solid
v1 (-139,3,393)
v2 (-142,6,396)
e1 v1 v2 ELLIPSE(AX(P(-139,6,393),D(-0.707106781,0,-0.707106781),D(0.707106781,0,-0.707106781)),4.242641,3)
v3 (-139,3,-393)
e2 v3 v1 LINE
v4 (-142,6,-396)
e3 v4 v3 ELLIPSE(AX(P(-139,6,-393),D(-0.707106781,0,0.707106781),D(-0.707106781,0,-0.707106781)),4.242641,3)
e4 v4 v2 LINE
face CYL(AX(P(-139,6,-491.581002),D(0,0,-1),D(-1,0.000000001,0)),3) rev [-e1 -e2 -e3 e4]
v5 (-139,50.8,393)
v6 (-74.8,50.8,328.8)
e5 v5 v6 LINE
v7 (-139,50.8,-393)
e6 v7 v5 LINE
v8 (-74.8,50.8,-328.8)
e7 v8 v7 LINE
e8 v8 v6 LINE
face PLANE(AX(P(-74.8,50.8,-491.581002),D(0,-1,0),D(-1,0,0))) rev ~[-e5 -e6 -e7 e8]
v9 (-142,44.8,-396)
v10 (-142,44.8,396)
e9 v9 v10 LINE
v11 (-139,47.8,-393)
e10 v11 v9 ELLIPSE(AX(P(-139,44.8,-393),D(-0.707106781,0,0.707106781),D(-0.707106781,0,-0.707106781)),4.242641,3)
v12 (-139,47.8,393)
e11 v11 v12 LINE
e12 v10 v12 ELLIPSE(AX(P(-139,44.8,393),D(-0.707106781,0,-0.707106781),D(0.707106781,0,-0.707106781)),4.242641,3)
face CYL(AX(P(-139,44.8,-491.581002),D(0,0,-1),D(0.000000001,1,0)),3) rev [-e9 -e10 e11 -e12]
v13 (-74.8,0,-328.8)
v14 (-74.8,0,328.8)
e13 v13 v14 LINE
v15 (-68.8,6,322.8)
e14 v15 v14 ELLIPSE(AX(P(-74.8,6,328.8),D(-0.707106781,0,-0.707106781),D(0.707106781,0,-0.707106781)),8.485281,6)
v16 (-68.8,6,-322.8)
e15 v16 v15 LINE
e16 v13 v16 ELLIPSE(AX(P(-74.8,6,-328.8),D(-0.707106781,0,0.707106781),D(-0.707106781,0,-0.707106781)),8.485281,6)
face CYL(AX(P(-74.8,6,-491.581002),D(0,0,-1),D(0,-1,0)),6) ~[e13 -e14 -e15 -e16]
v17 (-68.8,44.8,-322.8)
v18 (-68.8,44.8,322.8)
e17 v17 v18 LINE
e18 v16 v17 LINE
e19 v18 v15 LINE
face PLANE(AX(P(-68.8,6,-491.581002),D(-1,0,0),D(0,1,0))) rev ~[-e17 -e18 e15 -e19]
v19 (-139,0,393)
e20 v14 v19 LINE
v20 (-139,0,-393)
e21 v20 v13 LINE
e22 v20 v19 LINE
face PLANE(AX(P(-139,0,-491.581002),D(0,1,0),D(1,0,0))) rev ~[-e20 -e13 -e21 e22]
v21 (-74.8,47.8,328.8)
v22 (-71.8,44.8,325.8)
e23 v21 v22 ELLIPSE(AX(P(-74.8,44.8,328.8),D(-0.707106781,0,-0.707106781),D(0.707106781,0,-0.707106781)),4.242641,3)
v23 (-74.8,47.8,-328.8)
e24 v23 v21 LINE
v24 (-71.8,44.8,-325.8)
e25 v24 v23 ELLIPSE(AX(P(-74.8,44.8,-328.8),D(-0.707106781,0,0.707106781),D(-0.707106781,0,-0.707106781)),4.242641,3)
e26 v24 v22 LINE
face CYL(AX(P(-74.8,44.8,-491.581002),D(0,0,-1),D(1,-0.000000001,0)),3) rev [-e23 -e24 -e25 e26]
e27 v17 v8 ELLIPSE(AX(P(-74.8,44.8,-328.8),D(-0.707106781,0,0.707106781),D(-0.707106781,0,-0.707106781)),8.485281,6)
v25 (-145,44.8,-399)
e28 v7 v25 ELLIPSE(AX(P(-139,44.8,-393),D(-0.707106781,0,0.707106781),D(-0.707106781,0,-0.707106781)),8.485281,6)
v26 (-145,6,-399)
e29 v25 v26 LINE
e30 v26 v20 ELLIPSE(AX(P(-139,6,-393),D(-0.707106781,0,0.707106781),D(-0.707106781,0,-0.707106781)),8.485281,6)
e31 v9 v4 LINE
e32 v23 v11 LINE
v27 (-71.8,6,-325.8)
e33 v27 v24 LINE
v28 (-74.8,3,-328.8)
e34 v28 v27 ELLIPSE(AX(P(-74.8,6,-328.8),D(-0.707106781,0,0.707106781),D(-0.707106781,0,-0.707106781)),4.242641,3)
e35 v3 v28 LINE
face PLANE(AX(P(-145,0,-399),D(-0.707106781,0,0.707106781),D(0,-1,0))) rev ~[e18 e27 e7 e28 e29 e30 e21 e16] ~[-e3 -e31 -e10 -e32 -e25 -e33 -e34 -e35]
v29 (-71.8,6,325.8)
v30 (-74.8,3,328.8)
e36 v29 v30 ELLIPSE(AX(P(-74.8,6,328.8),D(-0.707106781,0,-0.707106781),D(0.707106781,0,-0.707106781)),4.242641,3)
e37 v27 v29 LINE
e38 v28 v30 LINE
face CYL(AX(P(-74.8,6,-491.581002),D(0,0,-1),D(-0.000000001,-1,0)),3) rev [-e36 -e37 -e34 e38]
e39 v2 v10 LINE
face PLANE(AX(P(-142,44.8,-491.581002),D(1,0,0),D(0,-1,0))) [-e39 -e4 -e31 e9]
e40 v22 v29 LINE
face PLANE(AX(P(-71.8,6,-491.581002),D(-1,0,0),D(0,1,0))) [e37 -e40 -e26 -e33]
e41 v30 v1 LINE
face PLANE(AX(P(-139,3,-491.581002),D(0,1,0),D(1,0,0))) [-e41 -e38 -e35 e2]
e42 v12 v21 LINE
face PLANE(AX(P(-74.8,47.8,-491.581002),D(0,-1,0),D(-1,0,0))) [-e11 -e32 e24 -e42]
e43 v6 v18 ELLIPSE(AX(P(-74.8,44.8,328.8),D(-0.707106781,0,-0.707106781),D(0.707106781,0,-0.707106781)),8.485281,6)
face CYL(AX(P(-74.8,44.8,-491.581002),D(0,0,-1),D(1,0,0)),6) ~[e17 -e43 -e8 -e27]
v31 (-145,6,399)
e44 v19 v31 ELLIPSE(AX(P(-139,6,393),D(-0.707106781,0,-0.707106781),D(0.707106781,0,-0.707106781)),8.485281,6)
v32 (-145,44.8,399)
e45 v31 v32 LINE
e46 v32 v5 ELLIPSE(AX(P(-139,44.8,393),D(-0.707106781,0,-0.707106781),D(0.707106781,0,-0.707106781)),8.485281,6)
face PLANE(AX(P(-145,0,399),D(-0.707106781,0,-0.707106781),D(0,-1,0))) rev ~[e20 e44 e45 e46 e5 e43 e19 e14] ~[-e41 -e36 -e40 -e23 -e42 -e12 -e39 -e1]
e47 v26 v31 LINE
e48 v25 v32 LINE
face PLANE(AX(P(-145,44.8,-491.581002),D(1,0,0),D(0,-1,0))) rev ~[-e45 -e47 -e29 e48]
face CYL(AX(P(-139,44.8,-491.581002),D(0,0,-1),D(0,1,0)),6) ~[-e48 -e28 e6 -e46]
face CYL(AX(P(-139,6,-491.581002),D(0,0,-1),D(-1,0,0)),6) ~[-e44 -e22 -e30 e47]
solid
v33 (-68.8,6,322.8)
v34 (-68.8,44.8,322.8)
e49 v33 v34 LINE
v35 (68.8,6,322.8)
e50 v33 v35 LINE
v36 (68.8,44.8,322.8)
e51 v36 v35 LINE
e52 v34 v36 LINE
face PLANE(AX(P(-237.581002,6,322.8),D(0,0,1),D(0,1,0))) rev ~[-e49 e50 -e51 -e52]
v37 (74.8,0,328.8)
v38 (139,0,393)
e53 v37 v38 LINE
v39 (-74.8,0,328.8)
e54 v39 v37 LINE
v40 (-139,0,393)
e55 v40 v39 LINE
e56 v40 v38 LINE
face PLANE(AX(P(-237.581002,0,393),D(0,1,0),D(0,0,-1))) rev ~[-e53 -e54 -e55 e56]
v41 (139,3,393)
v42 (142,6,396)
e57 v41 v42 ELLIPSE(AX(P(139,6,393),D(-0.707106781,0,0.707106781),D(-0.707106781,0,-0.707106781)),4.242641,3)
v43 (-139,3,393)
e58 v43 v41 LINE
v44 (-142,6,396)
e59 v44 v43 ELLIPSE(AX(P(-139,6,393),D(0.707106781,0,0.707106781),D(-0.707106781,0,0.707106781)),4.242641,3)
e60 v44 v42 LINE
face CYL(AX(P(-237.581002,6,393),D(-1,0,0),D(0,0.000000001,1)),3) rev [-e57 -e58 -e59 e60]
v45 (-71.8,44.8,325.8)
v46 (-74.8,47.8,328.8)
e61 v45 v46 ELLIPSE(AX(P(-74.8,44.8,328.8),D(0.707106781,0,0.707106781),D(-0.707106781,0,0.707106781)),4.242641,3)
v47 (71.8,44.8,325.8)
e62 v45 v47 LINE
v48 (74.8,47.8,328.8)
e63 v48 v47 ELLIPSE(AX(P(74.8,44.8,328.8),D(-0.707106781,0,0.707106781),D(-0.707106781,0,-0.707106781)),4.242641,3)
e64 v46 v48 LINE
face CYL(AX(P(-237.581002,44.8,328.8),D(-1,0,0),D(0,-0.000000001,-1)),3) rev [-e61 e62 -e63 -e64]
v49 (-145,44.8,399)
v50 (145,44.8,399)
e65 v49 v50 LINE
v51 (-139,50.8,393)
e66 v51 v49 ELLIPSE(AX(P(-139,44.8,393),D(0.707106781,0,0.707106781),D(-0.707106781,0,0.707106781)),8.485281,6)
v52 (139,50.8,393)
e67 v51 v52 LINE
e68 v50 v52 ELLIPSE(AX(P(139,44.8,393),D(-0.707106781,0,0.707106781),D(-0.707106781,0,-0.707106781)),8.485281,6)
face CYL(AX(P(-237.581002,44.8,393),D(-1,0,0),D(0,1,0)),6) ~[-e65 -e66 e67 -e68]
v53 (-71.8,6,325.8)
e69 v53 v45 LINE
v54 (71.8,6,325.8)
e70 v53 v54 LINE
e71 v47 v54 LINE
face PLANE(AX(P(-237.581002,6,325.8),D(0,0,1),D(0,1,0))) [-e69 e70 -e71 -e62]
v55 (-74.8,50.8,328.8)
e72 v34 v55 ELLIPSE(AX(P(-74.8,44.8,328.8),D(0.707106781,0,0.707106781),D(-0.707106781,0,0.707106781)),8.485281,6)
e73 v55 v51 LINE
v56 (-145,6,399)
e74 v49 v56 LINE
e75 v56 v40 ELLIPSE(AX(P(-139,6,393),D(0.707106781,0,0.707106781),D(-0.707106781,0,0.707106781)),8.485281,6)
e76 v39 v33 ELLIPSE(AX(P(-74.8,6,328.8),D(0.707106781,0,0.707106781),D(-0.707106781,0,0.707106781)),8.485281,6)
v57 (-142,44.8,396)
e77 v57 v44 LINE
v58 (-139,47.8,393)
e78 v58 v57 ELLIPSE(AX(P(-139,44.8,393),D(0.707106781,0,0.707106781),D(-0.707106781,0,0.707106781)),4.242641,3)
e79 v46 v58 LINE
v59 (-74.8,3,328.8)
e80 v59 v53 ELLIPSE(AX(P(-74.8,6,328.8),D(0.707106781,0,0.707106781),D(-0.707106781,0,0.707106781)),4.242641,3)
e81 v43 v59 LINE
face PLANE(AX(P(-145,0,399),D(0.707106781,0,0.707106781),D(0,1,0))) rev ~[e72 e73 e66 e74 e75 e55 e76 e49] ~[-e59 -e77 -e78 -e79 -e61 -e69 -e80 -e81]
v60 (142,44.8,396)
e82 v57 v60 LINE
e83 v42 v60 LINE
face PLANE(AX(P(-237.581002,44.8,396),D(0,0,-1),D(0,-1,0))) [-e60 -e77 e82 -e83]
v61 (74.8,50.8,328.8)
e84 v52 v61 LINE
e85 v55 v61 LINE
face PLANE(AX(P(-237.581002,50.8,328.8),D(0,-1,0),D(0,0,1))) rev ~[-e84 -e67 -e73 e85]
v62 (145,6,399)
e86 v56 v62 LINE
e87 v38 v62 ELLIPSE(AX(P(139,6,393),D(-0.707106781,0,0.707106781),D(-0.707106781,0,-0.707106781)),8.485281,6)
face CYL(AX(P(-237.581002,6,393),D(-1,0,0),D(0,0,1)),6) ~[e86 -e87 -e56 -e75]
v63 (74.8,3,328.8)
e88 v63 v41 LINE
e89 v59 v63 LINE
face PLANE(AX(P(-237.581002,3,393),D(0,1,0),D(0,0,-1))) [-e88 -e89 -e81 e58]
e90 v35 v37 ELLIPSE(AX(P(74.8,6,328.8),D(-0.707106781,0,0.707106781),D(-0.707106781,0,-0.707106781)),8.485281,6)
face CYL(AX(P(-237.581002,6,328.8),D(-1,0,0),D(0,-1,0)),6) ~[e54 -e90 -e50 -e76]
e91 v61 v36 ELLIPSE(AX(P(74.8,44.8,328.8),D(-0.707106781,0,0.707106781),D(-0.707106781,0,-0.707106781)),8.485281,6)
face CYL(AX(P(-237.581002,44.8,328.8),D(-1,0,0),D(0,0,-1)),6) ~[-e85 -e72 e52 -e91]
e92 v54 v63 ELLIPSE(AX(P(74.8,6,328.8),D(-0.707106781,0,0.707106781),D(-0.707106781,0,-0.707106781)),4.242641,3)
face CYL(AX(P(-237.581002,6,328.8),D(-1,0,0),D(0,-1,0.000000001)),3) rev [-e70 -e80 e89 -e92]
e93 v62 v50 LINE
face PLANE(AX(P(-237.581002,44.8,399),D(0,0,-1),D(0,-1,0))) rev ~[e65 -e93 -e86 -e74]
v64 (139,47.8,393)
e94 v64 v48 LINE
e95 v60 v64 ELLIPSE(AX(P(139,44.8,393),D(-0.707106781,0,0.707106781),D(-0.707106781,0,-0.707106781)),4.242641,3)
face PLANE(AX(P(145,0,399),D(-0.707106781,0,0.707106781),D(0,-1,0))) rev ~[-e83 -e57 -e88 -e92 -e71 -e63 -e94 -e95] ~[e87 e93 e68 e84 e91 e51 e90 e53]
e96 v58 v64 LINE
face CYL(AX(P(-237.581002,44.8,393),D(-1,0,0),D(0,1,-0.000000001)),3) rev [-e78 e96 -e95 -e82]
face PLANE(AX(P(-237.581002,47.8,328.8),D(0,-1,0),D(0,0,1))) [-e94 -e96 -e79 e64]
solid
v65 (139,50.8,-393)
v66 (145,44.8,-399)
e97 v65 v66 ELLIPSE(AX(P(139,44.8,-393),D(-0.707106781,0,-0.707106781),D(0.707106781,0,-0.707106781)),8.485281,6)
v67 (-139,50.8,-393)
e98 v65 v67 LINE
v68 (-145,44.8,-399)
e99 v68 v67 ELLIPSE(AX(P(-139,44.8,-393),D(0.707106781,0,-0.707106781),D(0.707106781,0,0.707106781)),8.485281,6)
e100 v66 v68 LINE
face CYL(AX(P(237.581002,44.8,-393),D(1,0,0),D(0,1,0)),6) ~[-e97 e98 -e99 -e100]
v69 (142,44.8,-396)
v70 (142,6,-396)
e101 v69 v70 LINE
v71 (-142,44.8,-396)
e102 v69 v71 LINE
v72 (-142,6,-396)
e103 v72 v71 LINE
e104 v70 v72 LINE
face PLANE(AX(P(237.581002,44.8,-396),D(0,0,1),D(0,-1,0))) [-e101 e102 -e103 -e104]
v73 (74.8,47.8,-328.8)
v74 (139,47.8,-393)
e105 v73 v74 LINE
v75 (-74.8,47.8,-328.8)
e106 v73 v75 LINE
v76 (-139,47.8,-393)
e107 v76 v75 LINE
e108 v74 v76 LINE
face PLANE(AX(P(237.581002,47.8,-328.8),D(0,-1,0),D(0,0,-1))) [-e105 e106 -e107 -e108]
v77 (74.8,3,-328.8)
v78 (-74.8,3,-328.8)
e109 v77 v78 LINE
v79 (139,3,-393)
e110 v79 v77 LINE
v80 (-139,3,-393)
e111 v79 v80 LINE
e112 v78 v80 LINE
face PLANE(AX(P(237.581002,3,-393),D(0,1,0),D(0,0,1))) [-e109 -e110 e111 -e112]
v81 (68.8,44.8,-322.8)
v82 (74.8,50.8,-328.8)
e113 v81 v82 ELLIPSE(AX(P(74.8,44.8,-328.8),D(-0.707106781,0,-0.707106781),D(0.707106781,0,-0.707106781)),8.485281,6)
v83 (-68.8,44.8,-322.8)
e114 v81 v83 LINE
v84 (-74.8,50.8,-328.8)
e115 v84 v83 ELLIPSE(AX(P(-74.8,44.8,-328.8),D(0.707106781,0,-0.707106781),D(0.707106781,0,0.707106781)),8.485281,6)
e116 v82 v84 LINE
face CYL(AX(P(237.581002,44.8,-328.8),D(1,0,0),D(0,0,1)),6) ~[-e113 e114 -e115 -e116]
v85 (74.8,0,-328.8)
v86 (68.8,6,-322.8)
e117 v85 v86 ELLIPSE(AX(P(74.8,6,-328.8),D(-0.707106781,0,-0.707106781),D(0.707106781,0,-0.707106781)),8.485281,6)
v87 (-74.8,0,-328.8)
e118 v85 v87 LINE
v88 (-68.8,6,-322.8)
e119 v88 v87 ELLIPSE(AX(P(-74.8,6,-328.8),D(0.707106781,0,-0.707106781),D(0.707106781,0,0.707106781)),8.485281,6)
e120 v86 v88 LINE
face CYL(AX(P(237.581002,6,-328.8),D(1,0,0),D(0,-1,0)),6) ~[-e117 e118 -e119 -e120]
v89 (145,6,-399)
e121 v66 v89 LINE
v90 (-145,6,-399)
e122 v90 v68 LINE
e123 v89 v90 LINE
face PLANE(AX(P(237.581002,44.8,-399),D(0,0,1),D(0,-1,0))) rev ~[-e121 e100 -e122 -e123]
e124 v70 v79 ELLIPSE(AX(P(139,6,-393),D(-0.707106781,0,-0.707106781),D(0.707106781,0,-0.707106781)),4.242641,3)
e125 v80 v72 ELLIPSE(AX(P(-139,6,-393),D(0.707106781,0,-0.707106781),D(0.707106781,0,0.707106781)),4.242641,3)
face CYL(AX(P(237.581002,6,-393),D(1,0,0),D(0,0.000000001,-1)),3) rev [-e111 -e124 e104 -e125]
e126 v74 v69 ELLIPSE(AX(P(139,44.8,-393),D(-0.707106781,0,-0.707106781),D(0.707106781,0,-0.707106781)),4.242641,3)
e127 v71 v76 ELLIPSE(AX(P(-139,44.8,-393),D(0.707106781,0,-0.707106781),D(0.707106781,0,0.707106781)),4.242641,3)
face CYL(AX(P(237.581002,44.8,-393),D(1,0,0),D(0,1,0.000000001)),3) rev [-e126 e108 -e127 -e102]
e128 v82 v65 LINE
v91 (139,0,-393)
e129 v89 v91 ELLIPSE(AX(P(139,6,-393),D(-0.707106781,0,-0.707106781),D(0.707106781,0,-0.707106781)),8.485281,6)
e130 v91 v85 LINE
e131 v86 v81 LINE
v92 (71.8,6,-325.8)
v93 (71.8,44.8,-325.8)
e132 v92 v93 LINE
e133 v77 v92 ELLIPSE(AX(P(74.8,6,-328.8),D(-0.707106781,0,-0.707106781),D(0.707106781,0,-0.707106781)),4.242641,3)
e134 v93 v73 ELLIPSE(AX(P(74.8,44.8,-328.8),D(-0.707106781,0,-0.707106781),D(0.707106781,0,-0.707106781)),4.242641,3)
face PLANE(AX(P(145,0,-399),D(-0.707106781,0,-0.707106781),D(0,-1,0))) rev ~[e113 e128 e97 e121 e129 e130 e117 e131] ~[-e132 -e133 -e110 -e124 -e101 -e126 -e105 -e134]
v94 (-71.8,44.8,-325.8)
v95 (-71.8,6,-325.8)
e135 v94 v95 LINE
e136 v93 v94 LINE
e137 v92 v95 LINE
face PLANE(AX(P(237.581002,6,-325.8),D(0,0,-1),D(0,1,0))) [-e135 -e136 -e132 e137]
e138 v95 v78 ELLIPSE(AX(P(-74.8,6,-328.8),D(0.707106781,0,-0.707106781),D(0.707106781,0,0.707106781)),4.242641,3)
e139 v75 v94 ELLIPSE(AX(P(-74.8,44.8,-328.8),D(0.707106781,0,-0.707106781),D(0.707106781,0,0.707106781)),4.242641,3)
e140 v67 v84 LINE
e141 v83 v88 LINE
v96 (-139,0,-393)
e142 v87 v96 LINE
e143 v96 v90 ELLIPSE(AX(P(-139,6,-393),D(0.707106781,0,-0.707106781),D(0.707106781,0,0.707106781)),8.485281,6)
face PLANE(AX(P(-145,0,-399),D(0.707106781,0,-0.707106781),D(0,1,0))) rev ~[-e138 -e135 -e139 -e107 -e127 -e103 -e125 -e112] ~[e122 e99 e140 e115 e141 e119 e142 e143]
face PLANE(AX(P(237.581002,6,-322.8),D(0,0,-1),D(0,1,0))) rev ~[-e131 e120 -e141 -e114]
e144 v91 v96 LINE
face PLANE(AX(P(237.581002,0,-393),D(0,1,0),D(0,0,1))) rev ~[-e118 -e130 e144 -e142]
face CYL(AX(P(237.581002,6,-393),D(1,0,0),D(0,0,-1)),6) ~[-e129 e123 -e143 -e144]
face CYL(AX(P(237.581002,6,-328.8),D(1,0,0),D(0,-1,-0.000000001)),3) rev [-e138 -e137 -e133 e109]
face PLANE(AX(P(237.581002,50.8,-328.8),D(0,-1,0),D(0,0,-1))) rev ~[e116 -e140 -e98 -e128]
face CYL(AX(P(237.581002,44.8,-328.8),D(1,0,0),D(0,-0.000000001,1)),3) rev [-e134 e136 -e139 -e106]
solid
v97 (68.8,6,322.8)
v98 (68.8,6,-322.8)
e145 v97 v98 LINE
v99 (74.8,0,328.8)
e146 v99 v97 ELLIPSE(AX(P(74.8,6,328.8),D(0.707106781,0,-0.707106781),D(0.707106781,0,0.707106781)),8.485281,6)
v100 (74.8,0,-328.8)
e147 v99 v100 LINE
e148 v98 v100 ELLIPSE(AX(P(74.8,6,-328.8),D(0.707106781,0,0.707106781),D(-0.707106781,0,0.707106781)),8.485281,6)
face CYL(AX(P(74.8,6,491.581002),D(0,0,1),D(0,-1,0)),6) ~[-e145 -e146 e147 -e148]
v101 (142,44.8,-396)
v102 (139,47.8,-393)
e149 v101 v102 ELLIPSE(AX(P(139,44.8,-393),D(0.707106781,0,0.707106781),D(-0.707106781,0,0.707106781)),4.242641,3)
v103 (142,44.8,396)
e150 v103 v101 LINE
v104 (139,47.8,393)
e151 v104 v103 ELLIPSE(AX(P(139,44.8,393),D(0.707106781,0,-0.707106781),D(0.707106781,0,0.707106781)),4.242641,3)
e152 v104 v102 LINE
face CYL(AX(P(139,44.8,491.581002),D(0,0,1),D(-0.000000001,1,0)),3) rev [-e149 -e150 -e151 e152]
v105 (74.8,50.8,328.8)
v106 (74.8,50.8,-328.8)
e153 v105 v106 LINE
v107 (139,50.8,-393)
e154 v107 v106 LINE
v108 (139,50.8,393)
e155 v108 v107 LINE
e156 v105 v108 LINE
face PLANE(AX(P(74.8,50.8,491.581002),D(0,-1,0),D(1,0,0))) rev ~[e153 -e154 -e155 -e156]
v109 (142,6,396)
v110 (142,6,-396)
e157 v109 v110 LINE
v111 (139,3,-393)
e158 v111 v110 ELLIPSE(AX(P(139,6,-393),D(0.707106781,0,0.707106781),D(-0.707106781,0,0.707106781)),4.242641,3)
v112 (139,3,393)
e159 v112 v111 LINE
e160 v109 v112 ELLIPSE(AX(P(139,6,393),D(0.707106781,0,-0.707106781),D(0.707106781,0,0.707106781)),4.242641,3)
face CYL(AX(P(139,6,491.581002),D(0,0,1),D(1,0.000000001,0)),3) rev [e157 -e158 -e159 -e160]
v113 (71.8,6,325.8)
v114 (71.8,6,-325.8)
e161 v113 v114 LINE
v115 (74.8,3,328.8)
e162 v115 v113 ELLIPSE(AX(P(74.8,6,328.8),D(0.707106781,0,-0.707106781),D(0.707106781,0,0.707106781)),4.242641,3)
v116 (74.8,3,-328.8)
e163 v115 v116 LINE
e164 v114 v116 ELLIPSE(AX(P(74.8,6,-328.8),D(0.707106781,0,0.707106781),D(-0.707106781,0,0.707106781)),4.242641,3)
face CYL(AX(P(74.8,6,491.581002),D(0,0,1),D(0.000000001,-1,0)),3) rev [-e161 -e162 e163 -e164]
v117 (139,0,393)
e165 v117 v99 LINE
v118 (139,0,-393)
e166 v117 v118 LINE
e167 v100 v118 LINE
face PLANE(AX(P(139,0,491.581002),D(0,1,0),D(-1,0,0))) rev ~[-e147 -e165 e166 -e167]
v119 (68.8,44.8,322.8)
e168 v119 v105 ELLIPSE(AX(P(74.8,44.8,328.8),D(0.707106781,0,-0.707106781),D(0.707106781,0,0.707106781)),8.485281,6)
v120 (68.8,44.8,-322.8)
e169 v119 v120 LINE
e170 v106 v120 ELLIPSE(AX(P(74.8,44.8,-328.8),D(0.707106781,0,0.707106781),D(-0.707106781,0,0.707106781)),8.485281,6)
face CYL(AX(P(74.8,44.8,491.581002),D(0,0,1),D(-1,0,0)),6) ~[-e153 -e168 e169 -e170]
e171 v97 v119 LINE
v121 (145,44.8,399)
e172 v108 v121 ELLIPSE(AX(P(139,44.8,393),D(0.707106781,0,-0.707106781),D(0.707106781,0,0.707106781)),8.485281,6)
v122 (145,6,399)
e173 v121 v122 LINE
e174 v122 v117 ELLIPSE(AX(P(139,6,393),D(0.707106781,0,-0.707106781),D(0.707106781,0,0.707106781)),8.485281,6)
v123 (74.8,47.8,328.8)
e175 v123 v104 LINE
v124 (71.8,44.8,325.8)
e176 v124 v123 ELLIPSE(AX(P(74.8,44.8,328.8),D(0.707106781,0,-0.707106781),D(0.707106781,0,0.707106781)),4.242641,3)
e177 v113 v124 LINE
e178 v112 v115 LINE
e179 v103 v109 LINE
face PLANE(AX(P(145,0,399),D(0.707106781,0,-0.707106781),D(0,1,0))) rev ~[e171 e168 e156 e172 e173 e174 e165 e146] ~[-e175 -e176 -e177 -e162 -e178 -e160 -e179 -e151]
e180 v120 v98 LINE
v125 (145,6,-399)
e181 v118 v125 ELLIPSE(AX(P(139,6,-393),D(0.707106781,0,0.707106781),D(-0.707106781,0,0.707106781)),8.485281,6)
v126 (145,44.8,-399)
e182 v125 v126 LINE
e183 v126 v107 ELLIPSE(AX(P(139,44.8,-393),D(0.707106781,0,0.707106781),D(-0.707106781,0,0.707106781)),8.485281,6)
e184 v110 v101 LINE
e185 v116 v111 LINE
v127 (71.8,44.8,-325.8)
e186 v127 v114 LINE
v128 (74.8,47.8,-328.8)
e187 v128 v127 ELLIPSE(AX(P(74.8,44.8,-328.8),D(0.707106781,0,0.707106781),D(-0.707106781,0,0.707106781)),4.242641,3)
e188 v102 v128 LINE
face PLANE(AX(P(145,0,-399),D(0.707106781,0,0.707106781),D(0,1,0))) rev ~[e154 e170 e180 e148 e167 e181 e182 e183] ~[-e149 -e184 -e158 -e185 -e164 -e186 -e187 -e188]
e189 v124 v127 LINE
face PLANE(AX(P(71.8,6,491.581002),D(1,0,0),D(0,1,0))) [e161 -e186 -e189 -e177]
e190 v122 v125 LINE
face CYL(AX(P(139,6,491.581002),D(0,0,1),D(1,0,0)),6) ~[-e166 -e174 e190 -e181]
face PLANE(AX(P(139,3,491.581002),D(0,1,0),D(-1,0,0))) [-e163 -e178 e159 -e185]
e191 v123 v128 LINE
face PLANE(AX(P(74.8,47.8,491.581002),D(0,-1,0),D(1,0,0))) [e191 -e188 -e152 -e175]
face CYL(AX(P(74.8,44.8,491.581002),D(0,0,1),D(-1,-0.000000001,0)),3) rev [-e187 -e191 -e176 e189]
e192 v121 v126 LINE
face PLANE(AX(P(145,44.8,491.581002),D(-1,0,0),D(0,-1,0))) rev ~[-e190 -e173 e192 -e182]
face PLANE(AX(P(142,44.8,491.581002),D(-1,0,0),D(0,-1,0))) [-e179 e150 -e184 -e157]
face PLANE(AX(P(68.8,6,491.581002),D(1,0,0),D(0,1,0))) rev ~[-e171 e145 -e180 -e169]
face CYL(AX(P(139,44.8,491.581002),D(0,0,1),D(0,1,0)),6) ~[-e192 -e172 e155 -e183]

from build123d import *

# Parameters (mm, degrees)
TUBO_RECTANGULAR_3_X_2_X_0_25_1_DEPTH      = 890.581002397
TUBO_RECTANGULAR_3_X_2_X_0_25_1_DEPTH_BACK = 92.581002397
TUBO_RECTANGULAR_3_X_2_X_0_25_1_2_DEPTH    = 475.162004794
TUBO_RECTANGULAR_3_X_2_X_0_25_1_3_DEPTH    = 983.162004794
TUBO_RECTANGULAR_3_X_2_X_0_25_1_4_DEPTH    = 475.162004794


with BuildPart() as part:
    # Sketch1 → Tubo rectangular 3 X 2 X 0.25(1) (new, two sides: drawn at the far end of the back side and taken through both)
    with BuildSketch(Plane(origin=(-106.9, 25.4, -399), x_dir=(1, 0, 0), z_dir=(0, 0, 1)).offset(-TUBO_RECTANGULAR_3_X_2_X_0_25_1_DEPTH_BACK)):
        with BuildLine():
            Line((-32.1, -25.4), (32.1, -25.4))
            ThreePointArc((32.1, -25.4), (36.342640687, -23.642640687), (38.1, -19.4))
            Line((38.1, -19.4), (38.1, 19.4))
            ThreePointArc((38.1, 19.4), (36.342640687, 23.642640687), (32.1, 25.4))
            Line((32.1, 25.4), (-32.1, 25.4))
            ThreePointArc((-32.1, 25.4), (-36.342640687, 23.642640687), (-38.1, 19.4))
            Line((-38.1, 19.4), (-38.1, -19.4))
            ThreePointArc((-38.1, -19.4), (-36.342640687, -23.642640687), (-32.1, -25.4))
        make_face()
        with BuildLine():
            Line((-32.1, -22.4), (32.1, -22.4))
            ThreePointArc((32.1, -22.4), (34.221320344, -21.521320344), (35.1, -19.4))
            Line((35.1, -19.4), (35.1, 19.4))
            ThreePointArc((35.1, 19.4), (34.221320344, 21.521320344), (32.1, 22.4))
            Line((32.1, 22.4), (-32.1, 22.4))
            ThreePointArc((-32.1, 22.4), (-34.221320344, 21.521320344), (-35.1, 19.4))
            Line((-35.1, 19.4), (-35.1, -19.4))
            ThreePointArc((-35.1, -19.4), (-34.221320344, -21.521320344), (-32.1, -22.4))
        make_face(mode=Mode.SUBTRACT)
    extrude(amount=TUBO_RECTANGULAR_3_X_2_X_0_25_1_DEPTH + TUBO_RECTANGULAR_3_X_2_X_0_25_1_DEPTH_BACK)

    # Tubo rectangular 3 X 2 X 0.25(1) mitre 1
    split(bisect_by=Plane(origin=(-145, 0, -399), x_dir=(0, -1, 0), z_dir=(-0.707106781, 0, 0.707106781)), keep=Keep.TOP)

    # Tubo rectangular 3 X 2 X 0.25(1) mitre 2
    split(bisect_by=Plane(origin=(-145, 0, 399), x_dir=(0, -1, 0), z_dir=(-0.707106781, 0, -0.707106781)), keep=Keep.TOP)


with BuildPart() as body_2:
    # Sketch1 on segment 2 (carried to segment 2) → Tubo rectangular 3 X 2 X 0.25_1 2 (new body)
    with BuildSketch(Plane(origin=(-237.581002397, 25.4, 360.9), x_dir=(0, 0, -1), z_dir=(1, 0, 0))):
        with BuildLine():
            Line((-32.1, -25.4), (32.1, -25.4))
            ThreePointArc((32.1, -25.4), (36.342640687, -23.642640687), (38.1, -19.4))
            Line((38.1, -19.4), (38.1, 19.4))
            ThreePointArc((38.1, 19.4), (36.342640687, 23.642640687), (32.1, 25.4))
            Line((32.1, 25.4), (-32.1, 25.4))
            ThreePointArc((-32.1, 25.4), (-36.342640687, 23.642640687), (-38.1, 19.4))
            Line((-38.1, 19.4), (-38.1, -19.4))
            ThreePointArc((-38.1, -19.4), (-36.342640687, -23.642640687), (-32.1, -25.4))
        make_face()
        with BuildLine():
            Line((-32.1, -22.4), (32.1, -22.4))
            ThreePointArc((32.1, -22.4), (34.221320344, -21.521320344), (35.1, -19.4))
            Line((35.1, -19.4), (35.1, 19.4))
            ThreePointArc((35.1, 19.4), (34.221320344, 21.521320344), (32.1, 22.4))
            Line((32.1, 22.4), (-32.1, 22.4))
            ThreePointArc((-32.1, 22.4), (-34.221320344, 21.521320344), (-35.1, 19.4))
            Line((-35.1, 19.4), (-35.1, -19.4))
            ThreePointArc((-35.1, -19.4), (-34.221320344, -21.521320344), (-32.1, -22.4))
        make_face(mode=Mode.SUBTRACT)
    extrude(amount=TUBO_RECTANGULAR_3_X_2_X_0_25_1_2_DEPTH)

    # Tubo rectangular 3 X 2 X 0.25_1 2 mitre
    split(bisect_by=Plane(origin=(-145, 0, 399), x_dir=(0, 1, 0), z_dir=(0.707106781, 0, 0.707106781)), keep=Keep.TOP)

    # Tubo rectangular 3 X 2 X 0.25_1 2 mi 2
    split(bisect_by=Plane(origin=(145, 0, 399), x_dir=(0, -1, 0), z_dir=(-0.707106781, 0, 0.707106781)), keep=Keep.TOP)


with BuildPart() as body_3:
    # Sketch1 on segment 3 (carried to segment 3) → Tubo rectangular 3 X 2 X 0.25_1 3 (new body)
    with BuildSketch(Plane(origin=(106.9, 25.4, 491.581002397), x_dir=(-1, 0, 0), z_dir=(0, 0, -1))):
        with BuildLine():
            Line((-32.1, -25.4), (32.1, -25.4))
            ThreePointArc((32.1, -25.4), (36.342640687, -23.642640687), (38.1, -19.4))
            Line((38.1, -19.4), (38.1, 19.4))
            ThreePointArc((38.1, 19.4), (36.342640687, 23.642640687), (32.1, 25.4))
            Line((32.1, 25.4), (-32.1, 25.4))
            ThreePointArc((-32.1, 25.4), (-36.342640687, 23.642640687), (-38.1, 19.4))
            Line((-38.1, 19.4), (-38.1, -19.4))
            ThreePointArc((-38.1, -19.4), (-36.342640687, -23.642640687), (-32.1, -25.4))
        make_face()
        with BuildLine():
            Line((-32.1, -22.4), (32.1, -22.4))
            ThreePointArc((32.1, -22.4), (34.221320344, -21.521320344), (35.1, -19.4))
            Line((35.1, -19.4), (35.1, 19.4))
            ThreePointArc((35.1, 19.4), (34.221320344, 21.521320344), (32.1, 22.4))
            Line((32.1, 22.4), (-32.1, 22.4))
            ThreePointArc((-32.1, 22.4), (-34.221320344, 21.521320344), (-35.1, 19.4))
            Line((-35.1, 19.4), (-35.1, -19.4))
            ThreePointArc((-35.1, -19.4), (-34.221320344, -21.521320344), (-32.1, -22.4))
        make_face(mode=Mode.SUBTRACT)
    extrude(amount=TUBO_RECTANGULAR_3_X_2_X_0_25_1_3_DEPTH)

    # Tubo rectangular 3 X 2 X 0.25_1 3 mitre
    split(bisect_by=Plane(origin=(145, 0, -399), x_dir=(0, 1, 0), z_dir=(0.707106781, 0, 0.707106781)), keep=Keep.TOP)

    # Tubo rectangular 3 X 2 X 0.25_1 3 mi 2
    split(bisect_by=Plane(origin=(145, 0, 399), x_dir=(0, 1, 0), z_dir=(0.707106781, 0, -0.707106781)), keep=Keep.TOP)


with BuildPart() as body_4:
    # Sketch1 on segment 4 (carried to segment 4) → Tubo rectangular 3 X 2 X 0.25_1 4 (new body)
    with BuildSketch(Plane(origin=(237.581002397, 25.4, -360.9), x_dir=(0, 0, 1), z_dir=(-1, 0, 0))):
        with BuildLine():
            Line((-32.1, -25.4), (32.1, -25.4))
            ThreePointArc((32.1, -25.4), (36.342640687, -23.642640687), (38.1, -19.4))
            Line((38.1, -19.4), (38.1, 19.4))
            ThreePointArc((38.1, 19.4), (36.342640687, 23.642640687), (32.1, 25.4))
            Line((32.1, 25.4), (-32.1, 25.4))
            ThreePointArc((-32.1, 25.4), (-36.342640687, 23.642640687), (-38.1, 19.4))
            Line((-38.1, 19.4), (-38.1, -19.4))
            ThreePointArc((-38.1, -19.4), (-36.342640687, -23.642640687), (-32.1, -25.4))
        make_face()
        with BuildLine():
            Line((-32.1, -22.4), (32.1, -22.4))
            ThreePointArc((32.1, -22.4), (34.221320344, -21.521320344), (35.1, -19.4))
            Line((35.1, -19.4), (35.1, 19.4))
            ThreePointArc((35.1, 19.4), (34.221320344, 21.521320344), (32.1, 22.4))
            Line((32.1, 22.4), (-32.1, 22.4))
            ThreePointArc((-32.1, 22.4), (-34.221320344, 21.521320344), (-35.1, 19.4))
            Line((-35.1, 19.4), (-35.1, -19.4))
            ThreePointArc((-35.1, -19.4), (-34.221320344, -21.521320344), (-32.1, -22.4))
        make_face(mode=Mode.SUBTRACT)
    extrude(amount=TUBO_RECTANGULAR_3_X_2_X_0_25_1_4_DEPTH)

    # Tubo rectangular 3 X 2 X 0.25_1 4 mitre
    split(bisect_by=Plane(origin=(-145, 0, -399), x_dir=(0, 1, 0), z_dir=(0.707106781, 0, -0.707106781)), keep=Keep.TOP)

    # Tubo rectangular 3 X 2 X 0.25_1 4 mi 2
    split(bisect_by=Plane(origin=(145, 0, -399), x_dir=(0, -1, 0), z_dir=(-0.707106781, 0, -0.707106781)), keep=Keep.TOP)


solid = Compound([part.part, body_2.part, body_3.part, body_4.part])
